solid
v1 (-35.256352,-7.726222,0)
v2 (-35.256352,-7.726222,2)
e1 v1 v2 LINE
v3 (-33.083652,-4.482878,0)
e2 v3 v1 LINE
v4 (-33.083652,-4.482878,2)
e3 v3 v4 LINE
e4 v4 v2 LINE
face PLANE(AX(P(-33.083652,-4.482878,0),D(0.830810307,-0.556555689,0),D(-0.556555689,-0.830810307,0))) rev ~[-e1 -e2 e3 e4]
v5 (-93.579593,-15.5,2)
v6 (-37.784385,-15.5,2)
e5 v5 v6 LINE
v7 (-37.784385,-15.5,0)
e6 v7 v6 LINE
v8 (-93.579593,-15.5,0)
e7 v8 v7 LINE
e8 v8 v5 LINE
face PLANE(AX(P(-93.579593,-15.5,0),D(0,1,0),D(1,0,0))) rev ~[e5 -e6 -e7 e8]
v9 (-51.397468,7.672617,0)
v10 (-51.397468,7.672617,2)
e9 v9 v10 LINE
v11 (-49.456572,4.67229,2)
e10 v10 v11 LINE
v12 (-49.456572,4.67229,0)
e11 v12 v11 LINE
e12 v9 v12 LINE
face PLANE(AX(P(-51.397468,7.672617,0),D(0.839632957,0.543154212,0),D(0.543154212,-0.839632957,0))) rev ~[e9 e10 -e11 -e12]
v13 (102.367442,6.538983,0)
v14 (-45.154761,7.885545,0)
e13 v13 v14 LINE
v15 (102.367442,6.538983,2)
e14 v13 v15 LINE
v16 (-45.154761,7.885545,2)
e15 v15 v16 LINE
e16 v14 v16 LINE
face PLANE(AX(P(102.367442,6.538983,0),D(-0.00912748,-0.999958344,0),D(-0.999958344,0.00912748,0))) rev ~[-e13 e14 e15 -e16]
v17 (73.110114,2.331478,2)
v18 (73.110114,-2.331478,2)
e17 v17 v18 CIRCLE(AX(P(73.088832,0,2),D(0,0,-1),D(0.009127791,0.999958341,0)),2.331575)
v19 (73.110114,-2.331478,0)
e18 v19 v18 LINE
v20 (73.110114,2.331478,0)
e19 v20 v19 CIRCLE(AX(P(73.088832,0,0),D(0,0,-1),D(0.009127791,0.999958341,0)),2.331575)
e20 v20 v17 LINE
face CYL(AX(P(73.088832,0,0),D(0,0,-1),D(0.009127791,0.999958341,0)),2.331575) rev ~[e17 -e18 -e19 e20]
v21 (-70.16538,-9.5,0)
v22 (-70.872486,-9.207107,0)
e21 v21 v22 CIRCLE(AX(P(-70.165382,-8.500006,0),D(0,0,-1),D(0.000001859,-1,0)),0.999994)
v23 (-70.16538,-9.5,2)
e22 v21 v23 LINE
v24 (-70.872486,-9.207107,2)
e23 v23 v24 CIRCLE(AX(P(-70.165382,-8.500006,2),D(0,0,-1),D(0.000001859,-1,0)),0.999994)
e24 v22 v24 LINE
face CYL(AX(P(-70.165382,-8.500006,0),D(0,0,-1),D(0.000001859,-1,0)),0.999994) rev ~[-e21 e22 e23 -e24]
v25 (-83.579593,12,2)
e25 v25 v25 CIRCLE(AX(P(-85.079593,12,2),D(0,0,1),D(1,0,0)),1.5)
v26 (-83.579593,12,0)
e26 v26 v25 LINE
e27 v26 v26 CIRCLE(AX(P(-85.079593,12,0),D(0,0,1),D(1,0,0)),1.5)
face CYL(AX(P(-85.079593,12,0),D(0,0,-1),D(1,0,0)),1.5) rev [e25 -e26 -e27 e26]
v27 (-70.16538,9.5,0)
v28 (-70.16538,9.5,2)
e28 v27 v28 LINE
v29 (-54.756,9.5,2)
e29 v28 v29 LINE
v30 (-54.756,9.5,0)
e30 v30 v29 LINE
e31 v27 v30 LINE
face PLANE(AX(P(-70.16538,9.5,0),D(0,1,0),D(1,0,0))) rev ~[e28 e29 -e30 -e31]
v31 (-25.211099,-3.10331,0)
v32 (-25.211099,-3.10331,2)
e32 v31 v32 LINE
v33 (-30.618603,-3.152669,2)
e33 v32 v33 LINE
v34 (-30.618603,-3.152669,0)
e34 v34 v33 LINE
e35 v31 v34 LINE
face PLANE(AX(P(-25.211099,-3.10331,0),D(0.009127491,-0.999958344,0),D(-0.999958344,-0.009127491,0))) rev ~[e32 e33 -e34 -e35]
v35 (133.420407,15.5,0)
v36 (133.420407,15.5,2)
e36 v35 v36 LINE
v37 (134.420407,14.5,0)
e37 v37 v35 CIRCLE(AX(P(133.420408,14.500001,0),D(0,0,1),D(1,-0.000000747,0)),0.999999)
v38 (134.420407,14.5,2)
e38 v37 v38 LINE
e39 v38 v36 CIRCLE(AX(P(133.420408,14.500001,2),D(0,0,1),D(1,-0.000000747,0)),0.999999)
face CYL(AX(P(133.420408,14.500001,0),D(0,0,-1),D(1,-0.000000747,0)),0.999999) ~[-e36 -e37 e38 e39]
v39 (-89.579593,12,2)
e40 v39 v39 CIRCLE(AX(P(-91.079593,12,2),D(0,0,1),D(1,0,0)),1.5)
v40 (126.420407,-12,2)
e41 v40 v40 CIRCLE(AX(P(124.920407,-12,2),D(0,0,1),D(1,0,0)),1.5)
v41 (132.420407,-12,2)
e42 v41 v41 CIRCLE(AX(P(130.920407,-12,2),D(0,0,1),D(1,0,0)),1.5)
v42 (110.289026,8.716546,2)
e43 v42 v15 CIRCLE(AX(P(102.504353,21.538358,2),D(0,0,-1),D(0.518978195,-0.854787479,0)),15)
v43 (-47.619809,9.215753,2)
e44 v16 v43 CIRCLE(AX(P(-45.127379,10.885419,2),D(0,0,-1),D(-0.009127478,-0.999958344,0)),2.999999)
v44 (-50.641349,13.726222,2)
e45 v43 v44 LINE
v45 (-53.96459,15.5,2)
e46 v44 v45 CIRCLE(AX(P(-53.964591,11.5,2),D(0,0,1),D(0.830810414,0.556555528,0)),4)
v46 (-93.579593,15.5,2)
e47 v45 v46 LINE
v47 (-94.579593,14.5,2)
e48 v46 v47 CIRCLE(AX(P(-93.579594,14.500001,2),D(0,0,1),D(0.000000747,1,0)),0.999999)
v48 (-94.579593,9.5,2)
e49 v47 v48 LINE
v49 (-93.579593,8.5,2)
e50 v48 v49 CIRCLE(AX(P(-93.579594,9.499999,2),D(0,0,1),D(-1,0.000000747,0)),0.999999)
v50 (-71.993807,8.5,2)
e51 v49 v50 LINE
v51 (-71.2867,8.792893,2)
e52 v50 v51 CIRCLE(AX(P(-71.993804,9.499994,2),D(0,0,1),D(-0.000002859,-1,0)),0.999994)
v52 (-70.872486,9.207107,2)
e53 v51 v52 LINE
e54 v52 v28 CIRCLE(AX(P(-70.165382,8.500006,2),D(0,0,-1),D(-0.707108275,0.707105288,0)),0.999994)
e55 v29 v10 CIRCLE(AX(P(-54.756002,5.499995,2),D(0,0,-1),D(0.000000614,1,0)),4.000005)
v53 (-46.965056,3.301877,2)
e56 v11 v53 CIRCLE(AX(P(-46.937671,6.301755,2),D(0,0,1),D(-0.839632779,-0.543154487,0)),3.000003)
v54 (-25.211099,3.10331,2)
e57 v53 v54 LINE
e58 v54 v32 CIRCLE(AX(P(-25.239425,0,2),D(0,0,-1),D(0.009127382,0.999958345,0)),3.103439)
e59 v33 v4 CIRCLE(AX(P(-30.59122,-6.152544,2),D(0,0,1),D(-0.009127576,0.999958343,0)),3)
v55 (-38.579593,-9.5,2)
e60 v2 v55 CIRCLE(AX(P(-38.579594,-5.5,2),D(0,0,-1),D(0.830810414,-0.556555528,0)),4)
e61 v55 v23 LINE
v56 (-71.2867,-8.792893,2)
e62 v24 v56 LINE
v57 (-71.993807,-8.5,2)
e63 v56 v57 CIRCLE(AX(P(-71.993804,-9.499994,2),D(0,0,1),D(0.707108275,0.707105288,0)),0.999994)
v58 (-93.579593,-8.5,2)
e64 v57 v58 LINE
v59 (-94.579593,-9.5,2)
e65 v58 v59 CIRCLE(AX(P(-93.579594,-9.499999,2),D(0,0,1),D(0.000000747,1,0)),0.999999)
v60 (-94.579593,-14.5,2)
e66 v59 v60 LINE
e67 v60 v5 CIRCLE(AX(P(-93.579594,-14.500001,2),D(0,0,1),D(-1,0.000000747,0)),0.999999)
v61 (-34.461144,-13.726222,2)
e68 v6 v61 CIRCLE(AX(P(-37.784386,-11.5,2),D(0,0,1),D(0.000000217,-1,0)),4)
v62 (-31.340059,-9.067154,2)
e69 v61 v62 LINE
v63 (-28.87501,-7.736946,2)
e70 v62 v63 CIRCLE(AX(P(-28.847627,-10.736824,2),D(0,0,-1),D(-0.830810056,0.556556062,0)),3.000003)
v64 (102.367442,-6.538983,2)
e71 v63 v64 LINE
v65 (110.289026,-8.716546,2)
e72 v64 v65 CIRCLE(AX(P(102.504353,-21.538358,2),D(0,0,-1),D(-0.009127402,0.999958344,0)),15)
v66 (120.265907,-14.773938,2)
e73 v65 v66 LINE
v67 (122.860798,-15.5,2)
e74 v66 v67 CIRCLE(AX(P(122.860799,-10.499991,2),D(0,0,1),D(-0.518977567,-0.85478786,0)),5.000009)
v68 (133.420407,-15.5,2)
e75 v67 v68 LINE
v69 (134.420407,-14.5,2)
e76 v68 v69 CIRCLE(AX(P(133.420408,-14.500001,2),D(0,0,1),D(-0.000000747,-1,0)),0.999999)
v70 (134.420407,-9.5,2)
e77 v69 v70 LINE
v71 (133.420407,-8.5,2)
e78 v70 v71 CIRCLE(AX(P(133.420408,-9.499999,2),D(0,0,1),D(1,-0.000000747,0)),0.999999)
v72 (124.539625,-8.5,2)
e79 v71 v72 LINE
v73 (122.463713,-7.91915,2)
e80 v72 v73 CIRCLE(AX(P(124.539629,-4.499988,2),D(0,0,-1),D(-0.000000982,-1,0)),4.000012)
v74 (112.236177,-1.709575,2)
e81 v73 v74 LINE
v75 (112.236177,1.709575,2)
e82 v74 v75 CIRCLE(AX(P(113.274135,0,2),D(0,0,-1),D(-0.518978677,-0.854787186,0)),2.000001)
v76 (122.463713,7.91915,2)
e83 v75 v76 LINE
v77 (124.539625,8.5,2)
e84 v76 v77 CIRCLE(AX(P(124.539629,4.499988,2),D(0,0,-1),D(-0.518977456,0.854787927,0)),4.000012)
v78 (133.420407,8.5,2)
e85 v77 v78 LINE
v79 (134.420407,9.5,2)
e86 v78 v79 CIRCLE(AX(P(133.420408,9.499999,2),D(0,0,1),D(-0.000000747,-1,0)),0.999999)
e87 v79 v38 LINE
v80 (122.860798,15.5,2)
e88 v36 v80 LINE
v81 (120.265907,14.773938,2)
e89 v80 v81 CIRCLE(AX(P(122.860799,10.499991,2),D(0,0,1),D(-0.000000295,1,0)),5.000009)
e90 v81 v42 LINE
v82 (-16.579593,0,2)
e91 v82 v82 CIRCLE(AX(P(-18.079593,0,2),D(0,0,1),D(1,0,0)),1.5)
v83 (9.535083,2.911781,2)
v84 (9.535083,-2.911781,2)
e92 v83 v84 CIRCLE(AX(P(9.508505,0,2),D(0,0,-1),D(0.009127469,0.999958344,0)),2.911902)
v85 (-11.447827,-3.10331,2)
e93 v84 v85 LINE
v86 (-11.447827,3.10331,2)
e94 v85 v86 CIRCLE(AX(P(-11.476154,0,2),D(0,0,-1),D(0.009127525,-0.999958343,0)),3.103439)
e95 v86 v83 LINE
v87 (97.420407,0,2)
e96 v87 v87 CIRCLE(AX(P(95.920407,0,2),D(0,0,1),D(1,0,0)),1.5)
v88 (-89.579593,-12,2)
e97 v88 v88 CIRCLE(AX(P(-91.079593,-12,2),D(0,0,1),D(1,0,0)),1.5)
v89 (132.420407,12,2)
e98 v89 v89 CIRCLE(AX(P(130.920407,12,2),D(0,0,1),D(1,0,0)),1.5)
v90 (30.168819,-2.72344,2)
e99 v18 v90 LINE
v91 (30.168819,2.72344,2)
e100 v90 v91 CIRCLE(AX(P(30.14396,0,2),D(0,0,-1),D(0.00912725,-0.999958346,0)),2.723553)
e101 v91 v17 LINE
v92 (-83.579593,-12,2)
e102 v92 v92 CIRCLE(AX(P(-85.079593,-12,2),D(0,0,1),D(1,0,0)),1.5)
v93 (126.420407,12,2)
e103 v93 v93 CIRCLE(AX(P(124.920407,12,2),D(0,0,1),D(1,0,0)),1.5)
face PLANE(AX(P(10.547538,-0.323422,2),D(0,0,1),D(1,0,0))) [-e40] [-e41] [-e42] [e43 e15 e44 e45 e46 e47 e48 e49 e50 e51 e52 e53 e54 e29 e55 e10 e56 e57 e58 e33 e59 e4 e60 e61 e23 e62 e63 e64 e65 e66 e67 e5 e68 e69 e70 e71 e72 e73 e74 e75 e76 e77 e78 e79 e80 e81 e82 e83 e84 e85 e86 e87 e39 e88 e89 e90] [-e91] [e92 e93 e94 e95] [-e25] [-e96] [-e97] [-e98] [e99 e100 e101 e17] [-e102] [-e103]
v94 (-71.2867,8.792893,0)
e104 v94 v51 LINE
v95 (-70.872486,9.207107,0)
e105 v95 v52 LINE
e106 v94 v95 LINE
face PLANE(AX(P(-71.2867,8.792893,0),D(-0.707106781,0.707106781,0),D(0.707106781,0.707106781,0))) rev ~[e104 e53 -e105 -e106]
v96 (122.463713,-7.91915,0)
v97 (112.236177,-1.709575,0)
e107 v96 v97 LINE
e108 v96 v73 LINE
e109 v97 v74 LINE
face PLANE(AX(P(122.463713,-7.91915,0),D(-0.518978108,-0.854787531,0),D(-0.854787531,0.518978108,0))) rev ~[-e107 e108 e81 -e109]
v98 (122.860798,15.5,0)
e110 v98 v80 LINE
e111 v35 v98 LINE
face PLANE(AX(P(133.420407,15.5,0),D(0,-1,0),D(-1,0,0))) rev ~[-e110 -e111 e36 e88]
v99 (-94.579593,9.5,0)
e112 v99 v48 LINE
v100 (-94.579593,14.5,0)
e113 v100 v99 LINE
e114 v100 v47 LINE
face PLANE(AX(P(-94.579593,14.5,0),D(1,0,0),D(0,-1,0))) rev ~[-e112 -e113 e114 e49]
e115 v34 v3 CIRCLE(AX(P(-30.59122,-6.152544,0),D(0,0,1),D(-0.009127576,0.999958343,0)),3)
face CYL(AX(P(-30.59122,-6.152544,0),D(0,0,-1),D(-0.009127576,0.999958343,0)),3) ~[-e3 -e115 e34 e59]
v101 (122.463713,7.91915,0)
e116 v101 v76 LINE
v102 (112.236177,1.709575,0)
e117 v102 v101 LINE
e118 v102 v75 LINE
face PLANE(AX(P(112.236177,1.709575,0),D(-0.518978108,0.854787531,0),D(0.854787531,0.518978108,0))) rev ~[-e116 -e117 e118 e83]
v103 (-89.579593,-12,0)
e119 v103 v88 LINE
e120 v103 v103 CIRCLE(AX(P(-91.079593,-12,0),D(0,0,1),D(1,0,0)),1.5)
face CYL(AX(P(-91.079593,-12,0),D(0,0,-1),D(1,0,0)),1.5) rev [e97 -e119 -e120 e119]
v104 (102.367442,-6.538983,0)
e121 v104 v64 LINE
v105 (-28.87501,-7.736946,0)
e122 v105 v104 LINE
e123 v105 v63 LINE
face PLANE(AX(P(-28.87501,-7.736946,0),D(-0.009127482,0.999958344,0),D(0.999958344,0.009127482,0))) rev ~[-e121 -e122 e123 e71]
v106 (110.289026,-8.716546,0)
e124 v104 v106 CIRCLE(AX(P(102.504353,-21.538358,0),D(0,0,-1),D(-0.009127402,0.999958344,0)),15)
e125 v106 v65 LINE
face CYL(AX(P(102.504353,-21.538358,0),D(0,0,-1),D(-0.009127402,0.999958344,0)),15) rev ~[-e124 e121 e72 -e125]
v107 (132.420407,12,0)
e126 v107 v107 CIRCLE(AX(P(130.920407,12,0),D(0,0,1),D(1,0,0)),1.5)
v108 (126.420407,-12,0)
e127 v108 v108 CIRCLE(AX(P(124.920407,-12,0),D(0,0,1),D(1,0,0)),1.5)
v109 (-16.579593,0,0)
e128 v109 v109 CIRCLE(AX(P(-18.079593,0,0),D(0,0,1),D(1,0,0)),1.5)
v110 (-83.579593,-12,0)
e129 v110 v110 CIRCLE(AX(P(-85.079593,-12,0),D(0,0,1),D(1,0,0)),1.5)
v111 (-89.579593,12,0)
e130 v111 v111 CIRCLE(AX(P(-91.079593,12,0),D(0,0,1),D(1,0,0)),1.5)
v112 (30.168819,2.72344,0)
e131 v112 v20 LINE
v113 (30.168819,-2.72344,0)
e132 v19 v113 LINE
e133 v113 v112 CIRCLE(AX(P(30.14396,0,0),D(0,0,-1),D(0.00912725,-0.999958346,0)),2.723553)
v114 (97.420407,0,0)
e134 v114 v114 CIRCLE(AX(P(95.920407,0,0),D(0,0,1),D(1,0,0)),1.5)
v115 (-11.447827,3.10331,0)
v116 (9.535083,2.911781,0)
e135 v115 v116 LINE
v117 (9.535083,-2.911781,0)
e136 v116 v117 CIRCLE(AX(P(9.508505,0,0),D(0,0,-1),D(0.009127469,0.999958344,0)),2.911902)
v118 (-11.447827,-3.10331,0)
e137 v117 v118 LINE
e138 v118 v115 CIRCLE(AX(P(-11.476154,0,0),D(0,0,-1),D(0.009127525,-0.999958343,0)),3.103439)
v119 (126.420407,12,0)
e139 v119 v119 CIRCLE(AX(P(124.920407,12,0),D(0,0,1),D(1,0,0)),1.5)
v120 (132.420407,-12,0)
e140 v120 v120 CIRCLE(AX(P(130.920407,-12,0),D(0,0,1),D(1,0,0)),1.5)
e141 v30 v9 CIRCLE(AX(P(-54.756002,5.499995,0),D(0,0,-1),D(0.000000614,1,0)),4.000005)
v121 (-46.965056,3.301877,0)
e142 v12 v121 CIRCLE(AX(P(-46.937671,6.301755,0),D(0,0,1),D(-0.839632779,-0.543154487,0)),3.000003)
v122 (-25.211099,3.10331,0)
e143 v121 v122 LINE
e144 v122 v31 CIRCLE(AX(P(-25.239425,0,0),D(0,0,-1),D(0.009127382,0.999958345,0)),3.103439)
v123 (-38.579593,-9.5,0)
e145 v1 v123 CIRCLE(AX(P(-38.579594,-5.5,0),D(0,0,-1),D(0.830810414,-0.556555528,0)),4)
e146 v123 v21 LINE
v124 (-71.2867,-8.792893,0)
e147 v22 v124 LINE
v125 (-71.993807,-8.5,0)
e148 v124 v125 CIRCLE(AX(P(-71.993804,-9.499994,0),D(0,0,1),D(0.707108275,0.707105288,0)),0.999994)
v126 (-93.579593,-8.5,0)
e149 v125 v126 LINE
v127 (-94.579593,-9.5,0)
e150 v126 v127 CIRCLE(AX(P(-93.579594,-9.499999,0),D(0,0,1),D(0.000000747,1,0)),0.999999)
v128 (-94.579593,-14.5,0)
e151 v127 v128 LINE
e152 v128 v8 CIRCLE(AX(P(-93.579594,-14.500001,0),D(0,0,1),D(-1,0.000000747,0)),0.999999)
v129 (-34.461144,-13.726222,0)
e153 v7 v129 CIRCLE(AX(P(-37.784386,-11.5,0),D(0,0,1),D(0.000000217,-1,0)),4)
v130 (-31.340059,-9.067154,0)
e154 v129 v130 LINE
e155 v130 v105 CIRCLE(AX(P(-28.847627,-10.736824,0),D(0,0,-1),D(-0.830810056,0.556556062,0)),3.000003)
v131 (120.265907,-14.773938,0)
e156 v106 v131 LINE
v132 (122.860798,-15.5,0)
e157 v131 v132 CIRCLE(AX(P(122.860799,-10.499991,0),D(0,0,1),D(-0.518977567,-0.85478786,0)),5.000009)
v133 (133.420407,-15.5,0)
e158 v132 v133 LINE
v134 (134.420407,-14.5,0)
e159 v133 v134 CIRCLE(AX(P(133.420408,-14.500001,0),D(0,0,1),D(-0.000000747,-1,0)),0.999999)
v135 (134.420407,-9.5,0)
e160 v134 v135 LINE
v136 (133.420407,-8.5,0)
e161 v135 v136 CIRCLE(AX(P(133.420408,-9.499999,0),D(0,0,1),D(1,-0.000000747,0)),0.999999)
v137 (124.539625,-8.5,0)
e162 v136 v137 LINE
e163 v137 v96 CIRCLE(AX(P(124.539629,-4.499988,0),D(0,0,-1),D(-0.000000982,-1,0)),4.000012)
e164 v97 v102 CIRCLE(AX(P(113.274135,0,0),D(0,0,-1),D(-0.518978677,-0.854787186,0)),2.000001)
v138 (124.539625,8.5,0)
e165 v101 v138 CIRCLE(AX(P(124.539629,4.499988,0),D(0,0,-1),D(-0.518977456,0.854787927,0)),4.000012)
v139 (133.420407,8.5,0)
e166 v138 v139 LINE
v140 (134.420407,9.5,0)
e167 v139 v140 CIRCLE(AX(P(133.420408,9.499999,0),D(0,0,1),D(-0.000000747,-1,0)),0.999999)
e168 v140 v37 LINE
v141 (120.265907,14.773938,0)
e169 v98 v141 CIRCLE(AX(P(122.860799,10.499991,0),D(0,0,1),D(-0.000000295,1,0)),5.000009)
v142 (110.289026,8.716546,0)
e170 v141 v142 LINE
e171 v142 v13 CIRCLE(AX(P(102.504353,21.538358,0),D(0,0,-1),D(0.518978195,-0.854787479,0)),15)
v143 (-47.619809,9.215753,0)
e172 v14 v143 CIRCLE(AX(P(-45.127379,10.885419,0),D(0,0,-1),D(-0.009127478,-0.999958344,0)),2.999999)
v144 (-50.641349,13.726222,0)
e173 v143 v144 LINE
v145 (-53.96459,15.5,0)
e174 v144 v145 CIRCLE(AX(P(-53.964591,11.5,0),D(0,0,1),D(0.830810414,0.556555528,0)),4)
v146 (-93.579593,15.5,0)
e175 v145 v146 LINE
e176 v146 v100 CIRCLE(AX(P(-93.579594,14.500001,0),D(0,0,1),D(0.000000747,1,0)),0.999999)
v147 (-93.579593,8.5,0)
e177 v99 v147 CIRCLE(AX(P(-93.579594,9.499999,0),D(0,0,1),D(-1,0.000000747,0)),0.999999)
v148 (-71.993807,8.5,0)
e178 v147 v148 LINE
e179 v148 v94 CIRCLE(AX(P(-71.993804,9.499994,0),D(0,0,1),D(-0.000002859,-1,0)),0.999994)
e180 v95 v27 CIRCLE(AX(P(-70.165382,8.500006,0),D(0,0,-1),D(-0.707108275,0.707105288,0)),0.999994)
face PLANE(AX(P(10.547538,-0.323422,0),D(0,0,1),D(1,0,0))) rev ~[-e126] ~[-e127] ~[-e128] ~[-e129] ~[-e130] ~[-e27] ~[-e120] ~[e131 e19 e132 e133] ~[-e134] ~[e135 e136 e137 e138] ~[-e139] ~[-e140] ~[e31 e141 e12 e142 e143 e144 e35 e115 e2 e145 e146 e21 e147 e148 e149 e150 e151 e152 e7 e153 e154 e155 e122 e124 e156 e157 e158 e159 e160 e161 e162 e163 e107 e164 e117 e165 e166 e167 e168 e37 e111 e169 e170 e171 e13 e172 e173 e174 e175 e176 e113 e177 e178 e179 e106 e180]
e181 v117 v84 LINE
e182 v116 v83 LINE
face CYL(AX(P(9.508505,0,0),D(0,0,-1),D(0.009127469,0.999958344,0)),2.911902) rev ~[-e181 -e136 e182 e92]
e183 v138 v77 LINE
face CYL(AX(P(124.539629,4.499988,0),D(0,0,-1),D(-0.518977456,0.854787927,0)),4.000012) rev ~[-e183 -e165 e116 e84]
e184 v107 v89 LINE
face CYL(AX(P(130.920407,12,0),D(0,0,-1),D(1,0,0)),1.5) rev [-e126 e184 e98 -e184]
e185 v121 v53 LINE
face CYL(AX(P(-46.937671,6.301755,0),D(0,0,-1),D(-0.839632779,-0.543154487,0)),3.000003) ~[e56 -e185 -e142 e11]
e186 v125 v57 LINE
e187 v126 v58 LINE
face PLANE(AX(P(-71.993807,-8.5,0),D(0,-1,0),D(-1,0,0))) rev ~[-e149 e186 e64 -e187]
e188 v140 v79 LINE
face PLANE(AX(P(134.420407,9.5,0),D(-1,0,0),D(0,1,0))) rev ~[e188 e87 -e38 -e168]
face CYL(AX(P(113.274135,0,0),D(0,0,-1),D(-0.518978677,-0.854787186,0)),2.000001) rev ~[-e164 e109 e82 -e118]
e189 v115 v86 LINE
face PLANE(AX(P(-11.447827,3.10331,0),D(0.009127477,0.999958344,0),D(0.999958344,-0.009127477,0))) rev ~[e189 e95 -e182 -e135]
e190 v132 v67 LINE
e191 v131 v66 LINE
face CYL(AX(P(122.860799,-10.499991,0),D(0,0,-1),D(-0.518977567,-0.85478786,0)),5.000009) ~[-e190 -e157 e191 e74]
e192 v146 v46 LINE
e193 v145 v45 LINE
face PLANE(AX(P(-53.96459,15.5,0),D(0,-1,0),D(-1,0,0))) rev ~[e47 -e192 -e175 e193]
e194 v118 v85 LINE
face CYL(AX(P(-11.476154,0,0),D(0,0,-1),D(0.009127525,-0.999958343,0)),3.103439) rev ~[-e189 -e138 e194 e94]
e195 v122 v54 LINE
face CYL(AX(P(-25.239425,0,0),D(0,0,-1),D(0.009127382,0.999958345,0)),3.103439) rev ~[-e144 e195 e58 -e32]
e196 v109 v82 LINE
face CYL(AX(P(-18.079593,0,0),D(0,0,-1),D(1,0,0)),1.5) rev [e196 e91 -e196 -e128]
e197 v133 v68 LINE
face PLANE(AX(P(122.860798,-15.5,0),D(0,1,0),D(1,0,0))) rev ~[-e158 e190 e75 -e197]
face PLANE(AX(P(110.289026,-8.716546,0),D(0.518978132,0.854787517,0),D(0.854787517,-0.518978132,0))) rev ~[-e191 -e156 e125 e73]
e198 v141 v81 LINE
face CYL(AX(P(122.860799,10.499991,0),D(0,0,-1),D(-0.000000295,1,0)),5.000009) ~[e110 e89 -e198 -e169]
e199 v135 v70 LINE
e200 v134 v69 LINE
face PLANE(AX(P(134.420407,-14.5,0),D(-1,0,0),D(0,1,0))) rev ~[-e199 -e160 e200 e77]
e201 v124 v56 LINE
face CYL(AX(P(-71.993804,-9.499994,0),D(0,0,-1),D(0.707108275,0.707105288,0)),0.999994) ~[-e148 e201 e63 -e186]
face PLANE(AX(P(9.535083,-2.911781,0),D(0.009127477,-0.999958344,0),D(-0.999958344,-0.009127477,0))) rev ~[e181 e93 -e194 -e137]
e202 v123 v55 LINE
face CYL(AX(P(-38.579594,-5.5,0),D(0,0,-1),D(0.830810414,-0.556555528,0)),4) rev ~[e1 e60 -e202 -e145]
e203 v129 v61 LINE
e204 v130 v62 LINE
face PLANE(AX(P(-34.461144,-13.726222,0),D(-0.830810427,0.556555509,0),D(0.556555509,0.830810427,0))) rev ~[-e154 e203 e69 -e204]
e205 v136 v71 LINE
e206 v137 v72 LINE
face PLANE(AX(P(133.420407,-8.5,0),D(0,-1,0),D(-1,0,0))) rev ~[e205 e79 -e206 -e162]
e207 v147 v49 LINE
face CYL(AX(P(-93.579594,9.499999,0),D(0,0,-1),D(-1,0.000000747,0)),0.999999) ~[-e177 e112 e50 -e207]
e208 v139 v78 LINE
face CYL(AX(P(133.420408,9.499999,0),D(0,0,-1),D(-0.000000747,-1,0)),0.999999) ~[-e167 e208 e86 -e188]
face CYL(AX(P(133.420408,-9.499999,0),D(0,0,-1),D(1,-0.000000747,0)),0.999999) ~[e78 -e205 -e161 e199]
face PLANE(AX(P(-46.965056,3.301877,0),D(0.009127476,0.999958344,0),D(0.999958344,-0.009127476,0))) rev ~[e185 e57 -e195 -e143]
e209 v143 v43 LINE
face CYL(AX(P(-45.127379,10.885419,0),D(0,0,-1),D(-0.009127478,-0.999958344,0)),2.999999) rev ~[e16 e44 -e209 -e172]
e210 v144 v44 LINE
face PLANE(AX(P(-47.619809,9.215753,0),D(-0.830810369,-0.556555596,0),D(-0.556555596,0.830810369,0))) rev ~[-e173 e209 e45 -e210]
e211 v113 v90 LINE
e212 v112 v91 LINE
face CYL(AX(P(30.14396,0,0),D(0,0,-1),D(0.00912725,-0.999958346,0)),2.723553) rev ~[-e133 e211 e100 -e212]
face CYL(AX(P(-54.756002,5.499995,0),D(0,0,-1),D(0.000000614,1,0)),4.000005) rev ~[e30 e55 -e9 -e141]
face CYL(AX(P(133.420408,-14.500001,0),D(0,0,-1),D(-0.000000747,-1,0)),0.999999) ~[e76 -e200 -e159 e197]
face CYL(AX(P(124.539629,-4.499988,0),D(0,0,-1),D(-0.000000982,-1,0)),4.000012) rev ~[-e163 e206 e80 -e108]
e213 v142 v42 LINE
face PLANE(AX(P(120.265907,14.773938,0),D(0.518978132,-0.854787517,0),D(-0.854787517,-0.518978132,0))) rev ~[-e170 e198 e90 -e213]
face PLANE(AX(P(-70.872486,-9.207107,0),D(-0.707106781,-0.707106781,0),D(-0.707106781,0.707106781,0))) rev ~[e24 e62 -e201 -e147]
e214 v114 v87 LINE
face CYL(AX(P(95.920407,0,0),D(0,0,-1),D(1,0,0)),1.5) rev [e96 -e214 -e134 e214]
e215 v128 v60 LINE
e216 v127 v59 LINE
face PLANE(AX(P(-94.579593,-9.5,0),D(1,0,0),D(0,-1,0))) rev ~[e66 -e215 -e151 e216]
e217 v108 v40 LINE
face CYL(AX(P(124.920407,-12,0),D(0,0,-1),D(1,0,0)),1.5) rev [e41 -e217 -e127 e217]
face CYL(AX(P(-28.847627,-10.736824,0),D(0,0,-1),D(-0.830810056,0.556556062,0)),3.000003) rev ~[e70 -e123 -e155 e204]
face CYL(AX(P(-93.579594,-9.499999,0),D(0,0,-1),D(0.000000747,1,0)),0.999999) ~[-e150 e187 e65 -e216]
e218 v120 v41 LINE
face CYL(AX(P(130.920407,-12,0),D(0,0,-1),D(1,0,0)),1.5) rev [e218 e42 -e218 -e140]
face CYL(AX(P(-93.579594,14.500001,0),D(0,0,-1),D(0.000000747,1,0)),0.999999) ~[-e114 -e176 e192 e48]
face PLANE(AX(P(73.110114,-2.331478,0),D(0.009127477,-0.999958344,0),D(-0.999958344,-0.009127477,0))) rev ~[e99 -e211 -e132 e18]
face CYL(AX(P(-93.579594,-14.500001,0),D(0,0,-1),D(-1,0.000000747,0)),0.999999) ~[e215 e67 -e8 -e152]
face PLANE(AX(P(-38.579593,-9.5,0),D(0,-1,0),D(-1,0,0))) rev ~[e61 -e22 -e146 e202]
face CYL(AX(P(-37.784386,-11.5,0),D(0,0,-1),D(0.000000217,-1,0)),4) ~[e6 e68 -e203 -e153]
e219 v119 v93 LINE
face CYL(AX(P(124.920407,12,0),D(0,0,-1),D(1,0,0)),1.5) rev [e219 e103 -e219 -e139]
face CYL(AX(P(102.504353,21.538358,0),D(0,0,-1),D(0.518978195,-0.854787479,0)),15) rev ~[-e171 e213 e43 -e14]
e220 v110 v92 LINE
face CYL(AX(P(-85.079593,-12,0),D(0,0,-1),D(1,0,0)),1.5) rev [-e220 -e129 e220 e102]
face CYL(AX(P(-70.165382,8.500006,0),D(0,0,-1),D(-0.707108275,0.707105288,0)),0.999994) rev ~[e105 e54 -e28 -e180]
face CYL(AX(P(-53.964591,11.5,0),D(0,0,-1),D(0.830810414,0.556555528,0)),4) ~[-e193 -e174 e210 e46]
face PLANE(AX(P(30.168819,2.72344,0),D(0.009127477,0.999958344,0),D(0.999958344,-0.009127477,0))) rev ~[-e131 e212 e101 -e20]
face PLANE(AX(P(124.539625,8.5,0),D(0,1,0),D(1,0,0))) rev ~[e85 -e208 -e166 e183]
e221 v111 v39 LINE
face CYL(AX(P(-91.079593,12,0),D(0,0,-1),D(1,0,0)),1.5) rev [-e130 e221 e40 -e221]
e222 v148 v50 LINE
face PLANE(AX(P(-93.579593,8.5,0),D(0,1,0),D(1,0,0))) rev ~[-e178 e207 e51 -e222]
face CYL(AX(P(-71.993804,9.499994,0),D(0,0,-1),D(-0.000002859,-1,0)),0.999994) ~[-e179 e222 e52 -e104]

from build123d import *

# Parameters (mm, degrees)
F0_R     = 1.5
F1_DEPTH = 2


with BuildPart() as f1:
    # F0 (on Top) → F1 (new body)
    with BuildSketch(Plane.XY):
        with BuildLine():
            Line((-94.579593, -9.5), (-94.579593, -14.5))
            ThreePointArc((-94.579593, -14.5), (-94.2867, -15.207107), (-93.579593, -15.5))
            Line((-93.579593, -15.5), (-37.784385, -15.5))
            ThreePointArc((-37.784385, -15.5), (-35.90089, -15.028802), (-34.461144, -13.726222))
            Line((-34.461144, -13.726222), (-31.340059, -9.067154))
            ThreePointArc((-31.340059, -9.067154), (-30.272313, -8.096694), (-28.87501, -7.736946))
            Line((-28.87501, -7.736946), (102.367442, -6.538983))
            ThreePointArc((102.367442, -6.538983), (106.480219, -7.07487), (110.289026, -8.716546))
            Line((110.289026, -8.716546), (120.265907, -14.773938))
            ThreePointArc((120.265907, -14.773938), (121.51352, -15.315064), (122.860798, -15.5))
            Line((122.860798, -15.5), (133.420407, -15.5))
            ThreePointArc((133.420407, -15.5), (134.127514, -15.207107), (134.420407, -14.5))
            Line((134.420407, -14.5), (134.420407, -9.5))
            ThreePointArc((134.420407, -9.5), (134.127514, -8.792893), (133.420407, -8.5))
            Line((133.420407, -8.5), (124.539625, -8.5))
            ThreePointArc((124.539625, -8.5), (123.461804, -8.352051), (122.463713, -7.91915))
            Line((122.463713, -7.91915), (112.236177, -1.709575))
            ThreePointArc((112.236177, -1.709575), (111.274134, 0), (112.236177, 1.709575))
            Line((112.236177, 1.709575), (122.463713, 7.91915))
            ThreePointArc((122.463713, 7.91915), (123.461804, 8.352051), (124.539625, 8.5))
            Line((124.539625, 8.5), (133.420407, 8.5))
            ThreePointArc((133.420407, 8.5), (134.127514, 8.792893), (134.420407, 9.5))
            Line((134.420407, 9.5), (134.420407, 14.5))
            ThreePointArc((134.420407, 14.5), (134.127514, 15.207107), (133.420407, 15.5))
            Line((133.420407, 15.5), (122.860798, 15.5))
            ThreePointArc((122.860798, 15.5), (121.51352, 15.315064), (120.265907, 14.773938))
            Line((120.265907, 14.773938), (110.289026, 8.716546))
            ThreePointArc((110.289026, 8.716546), (106.480219, 7.07487), (102.367442, 6.538983))
            Line((102.367442, 6.538983), (-45.154761, 7.885545))
            ThreePointArc((-45.154761, 7.885545), (-46.552064, 8.245293), (-47.619809, 9.215753))
            Line((-47.619809, 9.215753), (-50.641349, 13.726222))
            ThreePointArc((-50.641349, 13.726222), (-52.081095, 15.028802), (-53.96459, 15.5))
            Line((-53.96459, 15.5), (-93.579593, 15.5))
            ThreePointArc((-93.579593, 15.5), (-94.2867, 15.207107), (-94.579593, 14.5))
            Line((-94.579593, 14.5), (-94.579593, 9.5))
            ThreePointArc((-94.579593, 9.5), (-94.2867, 8.792893), (-93.579593, 8.5))
            Line((-93.579593, 8.5), (-71.993807, 8.5))
            ThreePointArc((-71.993807, 8.5), (-71.611123, 8.57612), (-71.2867, 8.792893))
            Line((-71.2867, 8.792893), (-70.872486, 9.207107))
            ThreePointArc((-70.872486, 9.207107), (-70.548063, 9.42388), (-70.16538, 9.5))
            Line((-70.16538, 9.5), (-54.756, 9.5))
            ThreePointArc((-54.756, 9.5), (-52.844256, 9.013578), (-51.397468, 7.672617))
            Line((-51.397468, 7.672617), (-49.456572, 4.67229))
            ThreePointArc((-49.456572, 4.67229), (-48.383493, 3.67314), (-46.965056, 3.301877))
            Line((-46.965056, 3.301877), (-25.211099, 3.10331))
            ThreePointArc((-25.211099, 3.10331), (-22.135986, 0), (-25.211099, -3.10331))
            Line((-25.211099, -3.10331), (-30.618603, -3.152669))
            ThreePointArc((-30.618603, -3.152669), (-32.015906, -3.512417), (-33.083652, -4.482878))
            Line((-33.083652, -4.482878), (-35.256352, -7.726222))
            ThreePointArc((-35.256352, -7.726222), (-36.696098, -9.028802), (-38.579593, -9.5))
            Line((-38.579593, -9.5), (-70.16538, -9.5))
            ThreePointArc((-70.16538, -9.5), (-70.548063, -9.42388), (-70.872486, -9.207107))
            Line((-70.872486, -9.207107), (-71.2867, -8.792893))
            ThreePointArc((-71.2867, -8.792893), (-71.611123, -8.57612), (-71.993807, -8.5))
            Line((-71.993807, -8.5), (-93.579593, -8.5))
            ThreePointArc((-93.579593, -8.5), (-94.2867, -8.792893), (-94.579593, -9.5))
        make_face()
        with Locations((-91.079593, -12)):
            Circle(F0_R, mode=Mode.SUBTRACT)
        with Locations((-85.079593, -12)):
            Circle(F0_R, mode=Mode.SUBTRACT)
        with Locations((124.920407, -12)):
            Circle(F0_R, mode=Mode.SUBTRACT)
        with Locations((130.920407, -12)):
            Circle(F0_R, mode=Mode.SUBTRACT)
        with Locations((-18.079593, 0)):
            Circle(F0_R, mode=Mode.SUBTRACT)
        with BuildLine():
            Line((9.535083, -2.911781), (-11.447827, -3.10331))
            ThreePointArc((-11.447827, -3.10331), (-14.579593, 0), (-11.447827, 3.10331))
            Line((-11.447827, 3.10331), (9.535083, 2.911781))
            ThreePointArc((9.535083, 2.911781), (12.420407, 0), (9.535083, -2.911781))
        make_face(mode=Mode.SUBTRACT)
        with Locations((-91.079593, 12)):
            Circle(F0_R, mode=Mode.SUBTRACT)
        with Locations((-85.079593, 12)):
            Circle(F0_R, mode=Mode.SUBTRACT)
        with BuildLine():
            ThreePointArc((73.110114, 2.331478), (75.420407, 0), (73.110114, -2.331478))
            Line((73.110114, -2.331478), (30.168819, -2.72344))
            ThreePointArc((30.168819, -2.72344), (27.420407, 0), (30.168819, 2.72344))
            Line((30.168819, 2.72344), (73.110114, 2.331478))
        make_face(mode=Mode.SUBTRACT)
        with Locations((95.920407, 0)):
            Circle(F0_R, mode=Mode.SUBTRACT)
        with Locations((124.920407, 12)):
            Circle(F0_R, mode=Mode.SUBTRACT)
        with Locations((130.920407, 12)):
            Circle(F0_R, mode=Mode.SUBTRACT)
    extrude(amount=F1_DEPTH)


solid = f1.part
